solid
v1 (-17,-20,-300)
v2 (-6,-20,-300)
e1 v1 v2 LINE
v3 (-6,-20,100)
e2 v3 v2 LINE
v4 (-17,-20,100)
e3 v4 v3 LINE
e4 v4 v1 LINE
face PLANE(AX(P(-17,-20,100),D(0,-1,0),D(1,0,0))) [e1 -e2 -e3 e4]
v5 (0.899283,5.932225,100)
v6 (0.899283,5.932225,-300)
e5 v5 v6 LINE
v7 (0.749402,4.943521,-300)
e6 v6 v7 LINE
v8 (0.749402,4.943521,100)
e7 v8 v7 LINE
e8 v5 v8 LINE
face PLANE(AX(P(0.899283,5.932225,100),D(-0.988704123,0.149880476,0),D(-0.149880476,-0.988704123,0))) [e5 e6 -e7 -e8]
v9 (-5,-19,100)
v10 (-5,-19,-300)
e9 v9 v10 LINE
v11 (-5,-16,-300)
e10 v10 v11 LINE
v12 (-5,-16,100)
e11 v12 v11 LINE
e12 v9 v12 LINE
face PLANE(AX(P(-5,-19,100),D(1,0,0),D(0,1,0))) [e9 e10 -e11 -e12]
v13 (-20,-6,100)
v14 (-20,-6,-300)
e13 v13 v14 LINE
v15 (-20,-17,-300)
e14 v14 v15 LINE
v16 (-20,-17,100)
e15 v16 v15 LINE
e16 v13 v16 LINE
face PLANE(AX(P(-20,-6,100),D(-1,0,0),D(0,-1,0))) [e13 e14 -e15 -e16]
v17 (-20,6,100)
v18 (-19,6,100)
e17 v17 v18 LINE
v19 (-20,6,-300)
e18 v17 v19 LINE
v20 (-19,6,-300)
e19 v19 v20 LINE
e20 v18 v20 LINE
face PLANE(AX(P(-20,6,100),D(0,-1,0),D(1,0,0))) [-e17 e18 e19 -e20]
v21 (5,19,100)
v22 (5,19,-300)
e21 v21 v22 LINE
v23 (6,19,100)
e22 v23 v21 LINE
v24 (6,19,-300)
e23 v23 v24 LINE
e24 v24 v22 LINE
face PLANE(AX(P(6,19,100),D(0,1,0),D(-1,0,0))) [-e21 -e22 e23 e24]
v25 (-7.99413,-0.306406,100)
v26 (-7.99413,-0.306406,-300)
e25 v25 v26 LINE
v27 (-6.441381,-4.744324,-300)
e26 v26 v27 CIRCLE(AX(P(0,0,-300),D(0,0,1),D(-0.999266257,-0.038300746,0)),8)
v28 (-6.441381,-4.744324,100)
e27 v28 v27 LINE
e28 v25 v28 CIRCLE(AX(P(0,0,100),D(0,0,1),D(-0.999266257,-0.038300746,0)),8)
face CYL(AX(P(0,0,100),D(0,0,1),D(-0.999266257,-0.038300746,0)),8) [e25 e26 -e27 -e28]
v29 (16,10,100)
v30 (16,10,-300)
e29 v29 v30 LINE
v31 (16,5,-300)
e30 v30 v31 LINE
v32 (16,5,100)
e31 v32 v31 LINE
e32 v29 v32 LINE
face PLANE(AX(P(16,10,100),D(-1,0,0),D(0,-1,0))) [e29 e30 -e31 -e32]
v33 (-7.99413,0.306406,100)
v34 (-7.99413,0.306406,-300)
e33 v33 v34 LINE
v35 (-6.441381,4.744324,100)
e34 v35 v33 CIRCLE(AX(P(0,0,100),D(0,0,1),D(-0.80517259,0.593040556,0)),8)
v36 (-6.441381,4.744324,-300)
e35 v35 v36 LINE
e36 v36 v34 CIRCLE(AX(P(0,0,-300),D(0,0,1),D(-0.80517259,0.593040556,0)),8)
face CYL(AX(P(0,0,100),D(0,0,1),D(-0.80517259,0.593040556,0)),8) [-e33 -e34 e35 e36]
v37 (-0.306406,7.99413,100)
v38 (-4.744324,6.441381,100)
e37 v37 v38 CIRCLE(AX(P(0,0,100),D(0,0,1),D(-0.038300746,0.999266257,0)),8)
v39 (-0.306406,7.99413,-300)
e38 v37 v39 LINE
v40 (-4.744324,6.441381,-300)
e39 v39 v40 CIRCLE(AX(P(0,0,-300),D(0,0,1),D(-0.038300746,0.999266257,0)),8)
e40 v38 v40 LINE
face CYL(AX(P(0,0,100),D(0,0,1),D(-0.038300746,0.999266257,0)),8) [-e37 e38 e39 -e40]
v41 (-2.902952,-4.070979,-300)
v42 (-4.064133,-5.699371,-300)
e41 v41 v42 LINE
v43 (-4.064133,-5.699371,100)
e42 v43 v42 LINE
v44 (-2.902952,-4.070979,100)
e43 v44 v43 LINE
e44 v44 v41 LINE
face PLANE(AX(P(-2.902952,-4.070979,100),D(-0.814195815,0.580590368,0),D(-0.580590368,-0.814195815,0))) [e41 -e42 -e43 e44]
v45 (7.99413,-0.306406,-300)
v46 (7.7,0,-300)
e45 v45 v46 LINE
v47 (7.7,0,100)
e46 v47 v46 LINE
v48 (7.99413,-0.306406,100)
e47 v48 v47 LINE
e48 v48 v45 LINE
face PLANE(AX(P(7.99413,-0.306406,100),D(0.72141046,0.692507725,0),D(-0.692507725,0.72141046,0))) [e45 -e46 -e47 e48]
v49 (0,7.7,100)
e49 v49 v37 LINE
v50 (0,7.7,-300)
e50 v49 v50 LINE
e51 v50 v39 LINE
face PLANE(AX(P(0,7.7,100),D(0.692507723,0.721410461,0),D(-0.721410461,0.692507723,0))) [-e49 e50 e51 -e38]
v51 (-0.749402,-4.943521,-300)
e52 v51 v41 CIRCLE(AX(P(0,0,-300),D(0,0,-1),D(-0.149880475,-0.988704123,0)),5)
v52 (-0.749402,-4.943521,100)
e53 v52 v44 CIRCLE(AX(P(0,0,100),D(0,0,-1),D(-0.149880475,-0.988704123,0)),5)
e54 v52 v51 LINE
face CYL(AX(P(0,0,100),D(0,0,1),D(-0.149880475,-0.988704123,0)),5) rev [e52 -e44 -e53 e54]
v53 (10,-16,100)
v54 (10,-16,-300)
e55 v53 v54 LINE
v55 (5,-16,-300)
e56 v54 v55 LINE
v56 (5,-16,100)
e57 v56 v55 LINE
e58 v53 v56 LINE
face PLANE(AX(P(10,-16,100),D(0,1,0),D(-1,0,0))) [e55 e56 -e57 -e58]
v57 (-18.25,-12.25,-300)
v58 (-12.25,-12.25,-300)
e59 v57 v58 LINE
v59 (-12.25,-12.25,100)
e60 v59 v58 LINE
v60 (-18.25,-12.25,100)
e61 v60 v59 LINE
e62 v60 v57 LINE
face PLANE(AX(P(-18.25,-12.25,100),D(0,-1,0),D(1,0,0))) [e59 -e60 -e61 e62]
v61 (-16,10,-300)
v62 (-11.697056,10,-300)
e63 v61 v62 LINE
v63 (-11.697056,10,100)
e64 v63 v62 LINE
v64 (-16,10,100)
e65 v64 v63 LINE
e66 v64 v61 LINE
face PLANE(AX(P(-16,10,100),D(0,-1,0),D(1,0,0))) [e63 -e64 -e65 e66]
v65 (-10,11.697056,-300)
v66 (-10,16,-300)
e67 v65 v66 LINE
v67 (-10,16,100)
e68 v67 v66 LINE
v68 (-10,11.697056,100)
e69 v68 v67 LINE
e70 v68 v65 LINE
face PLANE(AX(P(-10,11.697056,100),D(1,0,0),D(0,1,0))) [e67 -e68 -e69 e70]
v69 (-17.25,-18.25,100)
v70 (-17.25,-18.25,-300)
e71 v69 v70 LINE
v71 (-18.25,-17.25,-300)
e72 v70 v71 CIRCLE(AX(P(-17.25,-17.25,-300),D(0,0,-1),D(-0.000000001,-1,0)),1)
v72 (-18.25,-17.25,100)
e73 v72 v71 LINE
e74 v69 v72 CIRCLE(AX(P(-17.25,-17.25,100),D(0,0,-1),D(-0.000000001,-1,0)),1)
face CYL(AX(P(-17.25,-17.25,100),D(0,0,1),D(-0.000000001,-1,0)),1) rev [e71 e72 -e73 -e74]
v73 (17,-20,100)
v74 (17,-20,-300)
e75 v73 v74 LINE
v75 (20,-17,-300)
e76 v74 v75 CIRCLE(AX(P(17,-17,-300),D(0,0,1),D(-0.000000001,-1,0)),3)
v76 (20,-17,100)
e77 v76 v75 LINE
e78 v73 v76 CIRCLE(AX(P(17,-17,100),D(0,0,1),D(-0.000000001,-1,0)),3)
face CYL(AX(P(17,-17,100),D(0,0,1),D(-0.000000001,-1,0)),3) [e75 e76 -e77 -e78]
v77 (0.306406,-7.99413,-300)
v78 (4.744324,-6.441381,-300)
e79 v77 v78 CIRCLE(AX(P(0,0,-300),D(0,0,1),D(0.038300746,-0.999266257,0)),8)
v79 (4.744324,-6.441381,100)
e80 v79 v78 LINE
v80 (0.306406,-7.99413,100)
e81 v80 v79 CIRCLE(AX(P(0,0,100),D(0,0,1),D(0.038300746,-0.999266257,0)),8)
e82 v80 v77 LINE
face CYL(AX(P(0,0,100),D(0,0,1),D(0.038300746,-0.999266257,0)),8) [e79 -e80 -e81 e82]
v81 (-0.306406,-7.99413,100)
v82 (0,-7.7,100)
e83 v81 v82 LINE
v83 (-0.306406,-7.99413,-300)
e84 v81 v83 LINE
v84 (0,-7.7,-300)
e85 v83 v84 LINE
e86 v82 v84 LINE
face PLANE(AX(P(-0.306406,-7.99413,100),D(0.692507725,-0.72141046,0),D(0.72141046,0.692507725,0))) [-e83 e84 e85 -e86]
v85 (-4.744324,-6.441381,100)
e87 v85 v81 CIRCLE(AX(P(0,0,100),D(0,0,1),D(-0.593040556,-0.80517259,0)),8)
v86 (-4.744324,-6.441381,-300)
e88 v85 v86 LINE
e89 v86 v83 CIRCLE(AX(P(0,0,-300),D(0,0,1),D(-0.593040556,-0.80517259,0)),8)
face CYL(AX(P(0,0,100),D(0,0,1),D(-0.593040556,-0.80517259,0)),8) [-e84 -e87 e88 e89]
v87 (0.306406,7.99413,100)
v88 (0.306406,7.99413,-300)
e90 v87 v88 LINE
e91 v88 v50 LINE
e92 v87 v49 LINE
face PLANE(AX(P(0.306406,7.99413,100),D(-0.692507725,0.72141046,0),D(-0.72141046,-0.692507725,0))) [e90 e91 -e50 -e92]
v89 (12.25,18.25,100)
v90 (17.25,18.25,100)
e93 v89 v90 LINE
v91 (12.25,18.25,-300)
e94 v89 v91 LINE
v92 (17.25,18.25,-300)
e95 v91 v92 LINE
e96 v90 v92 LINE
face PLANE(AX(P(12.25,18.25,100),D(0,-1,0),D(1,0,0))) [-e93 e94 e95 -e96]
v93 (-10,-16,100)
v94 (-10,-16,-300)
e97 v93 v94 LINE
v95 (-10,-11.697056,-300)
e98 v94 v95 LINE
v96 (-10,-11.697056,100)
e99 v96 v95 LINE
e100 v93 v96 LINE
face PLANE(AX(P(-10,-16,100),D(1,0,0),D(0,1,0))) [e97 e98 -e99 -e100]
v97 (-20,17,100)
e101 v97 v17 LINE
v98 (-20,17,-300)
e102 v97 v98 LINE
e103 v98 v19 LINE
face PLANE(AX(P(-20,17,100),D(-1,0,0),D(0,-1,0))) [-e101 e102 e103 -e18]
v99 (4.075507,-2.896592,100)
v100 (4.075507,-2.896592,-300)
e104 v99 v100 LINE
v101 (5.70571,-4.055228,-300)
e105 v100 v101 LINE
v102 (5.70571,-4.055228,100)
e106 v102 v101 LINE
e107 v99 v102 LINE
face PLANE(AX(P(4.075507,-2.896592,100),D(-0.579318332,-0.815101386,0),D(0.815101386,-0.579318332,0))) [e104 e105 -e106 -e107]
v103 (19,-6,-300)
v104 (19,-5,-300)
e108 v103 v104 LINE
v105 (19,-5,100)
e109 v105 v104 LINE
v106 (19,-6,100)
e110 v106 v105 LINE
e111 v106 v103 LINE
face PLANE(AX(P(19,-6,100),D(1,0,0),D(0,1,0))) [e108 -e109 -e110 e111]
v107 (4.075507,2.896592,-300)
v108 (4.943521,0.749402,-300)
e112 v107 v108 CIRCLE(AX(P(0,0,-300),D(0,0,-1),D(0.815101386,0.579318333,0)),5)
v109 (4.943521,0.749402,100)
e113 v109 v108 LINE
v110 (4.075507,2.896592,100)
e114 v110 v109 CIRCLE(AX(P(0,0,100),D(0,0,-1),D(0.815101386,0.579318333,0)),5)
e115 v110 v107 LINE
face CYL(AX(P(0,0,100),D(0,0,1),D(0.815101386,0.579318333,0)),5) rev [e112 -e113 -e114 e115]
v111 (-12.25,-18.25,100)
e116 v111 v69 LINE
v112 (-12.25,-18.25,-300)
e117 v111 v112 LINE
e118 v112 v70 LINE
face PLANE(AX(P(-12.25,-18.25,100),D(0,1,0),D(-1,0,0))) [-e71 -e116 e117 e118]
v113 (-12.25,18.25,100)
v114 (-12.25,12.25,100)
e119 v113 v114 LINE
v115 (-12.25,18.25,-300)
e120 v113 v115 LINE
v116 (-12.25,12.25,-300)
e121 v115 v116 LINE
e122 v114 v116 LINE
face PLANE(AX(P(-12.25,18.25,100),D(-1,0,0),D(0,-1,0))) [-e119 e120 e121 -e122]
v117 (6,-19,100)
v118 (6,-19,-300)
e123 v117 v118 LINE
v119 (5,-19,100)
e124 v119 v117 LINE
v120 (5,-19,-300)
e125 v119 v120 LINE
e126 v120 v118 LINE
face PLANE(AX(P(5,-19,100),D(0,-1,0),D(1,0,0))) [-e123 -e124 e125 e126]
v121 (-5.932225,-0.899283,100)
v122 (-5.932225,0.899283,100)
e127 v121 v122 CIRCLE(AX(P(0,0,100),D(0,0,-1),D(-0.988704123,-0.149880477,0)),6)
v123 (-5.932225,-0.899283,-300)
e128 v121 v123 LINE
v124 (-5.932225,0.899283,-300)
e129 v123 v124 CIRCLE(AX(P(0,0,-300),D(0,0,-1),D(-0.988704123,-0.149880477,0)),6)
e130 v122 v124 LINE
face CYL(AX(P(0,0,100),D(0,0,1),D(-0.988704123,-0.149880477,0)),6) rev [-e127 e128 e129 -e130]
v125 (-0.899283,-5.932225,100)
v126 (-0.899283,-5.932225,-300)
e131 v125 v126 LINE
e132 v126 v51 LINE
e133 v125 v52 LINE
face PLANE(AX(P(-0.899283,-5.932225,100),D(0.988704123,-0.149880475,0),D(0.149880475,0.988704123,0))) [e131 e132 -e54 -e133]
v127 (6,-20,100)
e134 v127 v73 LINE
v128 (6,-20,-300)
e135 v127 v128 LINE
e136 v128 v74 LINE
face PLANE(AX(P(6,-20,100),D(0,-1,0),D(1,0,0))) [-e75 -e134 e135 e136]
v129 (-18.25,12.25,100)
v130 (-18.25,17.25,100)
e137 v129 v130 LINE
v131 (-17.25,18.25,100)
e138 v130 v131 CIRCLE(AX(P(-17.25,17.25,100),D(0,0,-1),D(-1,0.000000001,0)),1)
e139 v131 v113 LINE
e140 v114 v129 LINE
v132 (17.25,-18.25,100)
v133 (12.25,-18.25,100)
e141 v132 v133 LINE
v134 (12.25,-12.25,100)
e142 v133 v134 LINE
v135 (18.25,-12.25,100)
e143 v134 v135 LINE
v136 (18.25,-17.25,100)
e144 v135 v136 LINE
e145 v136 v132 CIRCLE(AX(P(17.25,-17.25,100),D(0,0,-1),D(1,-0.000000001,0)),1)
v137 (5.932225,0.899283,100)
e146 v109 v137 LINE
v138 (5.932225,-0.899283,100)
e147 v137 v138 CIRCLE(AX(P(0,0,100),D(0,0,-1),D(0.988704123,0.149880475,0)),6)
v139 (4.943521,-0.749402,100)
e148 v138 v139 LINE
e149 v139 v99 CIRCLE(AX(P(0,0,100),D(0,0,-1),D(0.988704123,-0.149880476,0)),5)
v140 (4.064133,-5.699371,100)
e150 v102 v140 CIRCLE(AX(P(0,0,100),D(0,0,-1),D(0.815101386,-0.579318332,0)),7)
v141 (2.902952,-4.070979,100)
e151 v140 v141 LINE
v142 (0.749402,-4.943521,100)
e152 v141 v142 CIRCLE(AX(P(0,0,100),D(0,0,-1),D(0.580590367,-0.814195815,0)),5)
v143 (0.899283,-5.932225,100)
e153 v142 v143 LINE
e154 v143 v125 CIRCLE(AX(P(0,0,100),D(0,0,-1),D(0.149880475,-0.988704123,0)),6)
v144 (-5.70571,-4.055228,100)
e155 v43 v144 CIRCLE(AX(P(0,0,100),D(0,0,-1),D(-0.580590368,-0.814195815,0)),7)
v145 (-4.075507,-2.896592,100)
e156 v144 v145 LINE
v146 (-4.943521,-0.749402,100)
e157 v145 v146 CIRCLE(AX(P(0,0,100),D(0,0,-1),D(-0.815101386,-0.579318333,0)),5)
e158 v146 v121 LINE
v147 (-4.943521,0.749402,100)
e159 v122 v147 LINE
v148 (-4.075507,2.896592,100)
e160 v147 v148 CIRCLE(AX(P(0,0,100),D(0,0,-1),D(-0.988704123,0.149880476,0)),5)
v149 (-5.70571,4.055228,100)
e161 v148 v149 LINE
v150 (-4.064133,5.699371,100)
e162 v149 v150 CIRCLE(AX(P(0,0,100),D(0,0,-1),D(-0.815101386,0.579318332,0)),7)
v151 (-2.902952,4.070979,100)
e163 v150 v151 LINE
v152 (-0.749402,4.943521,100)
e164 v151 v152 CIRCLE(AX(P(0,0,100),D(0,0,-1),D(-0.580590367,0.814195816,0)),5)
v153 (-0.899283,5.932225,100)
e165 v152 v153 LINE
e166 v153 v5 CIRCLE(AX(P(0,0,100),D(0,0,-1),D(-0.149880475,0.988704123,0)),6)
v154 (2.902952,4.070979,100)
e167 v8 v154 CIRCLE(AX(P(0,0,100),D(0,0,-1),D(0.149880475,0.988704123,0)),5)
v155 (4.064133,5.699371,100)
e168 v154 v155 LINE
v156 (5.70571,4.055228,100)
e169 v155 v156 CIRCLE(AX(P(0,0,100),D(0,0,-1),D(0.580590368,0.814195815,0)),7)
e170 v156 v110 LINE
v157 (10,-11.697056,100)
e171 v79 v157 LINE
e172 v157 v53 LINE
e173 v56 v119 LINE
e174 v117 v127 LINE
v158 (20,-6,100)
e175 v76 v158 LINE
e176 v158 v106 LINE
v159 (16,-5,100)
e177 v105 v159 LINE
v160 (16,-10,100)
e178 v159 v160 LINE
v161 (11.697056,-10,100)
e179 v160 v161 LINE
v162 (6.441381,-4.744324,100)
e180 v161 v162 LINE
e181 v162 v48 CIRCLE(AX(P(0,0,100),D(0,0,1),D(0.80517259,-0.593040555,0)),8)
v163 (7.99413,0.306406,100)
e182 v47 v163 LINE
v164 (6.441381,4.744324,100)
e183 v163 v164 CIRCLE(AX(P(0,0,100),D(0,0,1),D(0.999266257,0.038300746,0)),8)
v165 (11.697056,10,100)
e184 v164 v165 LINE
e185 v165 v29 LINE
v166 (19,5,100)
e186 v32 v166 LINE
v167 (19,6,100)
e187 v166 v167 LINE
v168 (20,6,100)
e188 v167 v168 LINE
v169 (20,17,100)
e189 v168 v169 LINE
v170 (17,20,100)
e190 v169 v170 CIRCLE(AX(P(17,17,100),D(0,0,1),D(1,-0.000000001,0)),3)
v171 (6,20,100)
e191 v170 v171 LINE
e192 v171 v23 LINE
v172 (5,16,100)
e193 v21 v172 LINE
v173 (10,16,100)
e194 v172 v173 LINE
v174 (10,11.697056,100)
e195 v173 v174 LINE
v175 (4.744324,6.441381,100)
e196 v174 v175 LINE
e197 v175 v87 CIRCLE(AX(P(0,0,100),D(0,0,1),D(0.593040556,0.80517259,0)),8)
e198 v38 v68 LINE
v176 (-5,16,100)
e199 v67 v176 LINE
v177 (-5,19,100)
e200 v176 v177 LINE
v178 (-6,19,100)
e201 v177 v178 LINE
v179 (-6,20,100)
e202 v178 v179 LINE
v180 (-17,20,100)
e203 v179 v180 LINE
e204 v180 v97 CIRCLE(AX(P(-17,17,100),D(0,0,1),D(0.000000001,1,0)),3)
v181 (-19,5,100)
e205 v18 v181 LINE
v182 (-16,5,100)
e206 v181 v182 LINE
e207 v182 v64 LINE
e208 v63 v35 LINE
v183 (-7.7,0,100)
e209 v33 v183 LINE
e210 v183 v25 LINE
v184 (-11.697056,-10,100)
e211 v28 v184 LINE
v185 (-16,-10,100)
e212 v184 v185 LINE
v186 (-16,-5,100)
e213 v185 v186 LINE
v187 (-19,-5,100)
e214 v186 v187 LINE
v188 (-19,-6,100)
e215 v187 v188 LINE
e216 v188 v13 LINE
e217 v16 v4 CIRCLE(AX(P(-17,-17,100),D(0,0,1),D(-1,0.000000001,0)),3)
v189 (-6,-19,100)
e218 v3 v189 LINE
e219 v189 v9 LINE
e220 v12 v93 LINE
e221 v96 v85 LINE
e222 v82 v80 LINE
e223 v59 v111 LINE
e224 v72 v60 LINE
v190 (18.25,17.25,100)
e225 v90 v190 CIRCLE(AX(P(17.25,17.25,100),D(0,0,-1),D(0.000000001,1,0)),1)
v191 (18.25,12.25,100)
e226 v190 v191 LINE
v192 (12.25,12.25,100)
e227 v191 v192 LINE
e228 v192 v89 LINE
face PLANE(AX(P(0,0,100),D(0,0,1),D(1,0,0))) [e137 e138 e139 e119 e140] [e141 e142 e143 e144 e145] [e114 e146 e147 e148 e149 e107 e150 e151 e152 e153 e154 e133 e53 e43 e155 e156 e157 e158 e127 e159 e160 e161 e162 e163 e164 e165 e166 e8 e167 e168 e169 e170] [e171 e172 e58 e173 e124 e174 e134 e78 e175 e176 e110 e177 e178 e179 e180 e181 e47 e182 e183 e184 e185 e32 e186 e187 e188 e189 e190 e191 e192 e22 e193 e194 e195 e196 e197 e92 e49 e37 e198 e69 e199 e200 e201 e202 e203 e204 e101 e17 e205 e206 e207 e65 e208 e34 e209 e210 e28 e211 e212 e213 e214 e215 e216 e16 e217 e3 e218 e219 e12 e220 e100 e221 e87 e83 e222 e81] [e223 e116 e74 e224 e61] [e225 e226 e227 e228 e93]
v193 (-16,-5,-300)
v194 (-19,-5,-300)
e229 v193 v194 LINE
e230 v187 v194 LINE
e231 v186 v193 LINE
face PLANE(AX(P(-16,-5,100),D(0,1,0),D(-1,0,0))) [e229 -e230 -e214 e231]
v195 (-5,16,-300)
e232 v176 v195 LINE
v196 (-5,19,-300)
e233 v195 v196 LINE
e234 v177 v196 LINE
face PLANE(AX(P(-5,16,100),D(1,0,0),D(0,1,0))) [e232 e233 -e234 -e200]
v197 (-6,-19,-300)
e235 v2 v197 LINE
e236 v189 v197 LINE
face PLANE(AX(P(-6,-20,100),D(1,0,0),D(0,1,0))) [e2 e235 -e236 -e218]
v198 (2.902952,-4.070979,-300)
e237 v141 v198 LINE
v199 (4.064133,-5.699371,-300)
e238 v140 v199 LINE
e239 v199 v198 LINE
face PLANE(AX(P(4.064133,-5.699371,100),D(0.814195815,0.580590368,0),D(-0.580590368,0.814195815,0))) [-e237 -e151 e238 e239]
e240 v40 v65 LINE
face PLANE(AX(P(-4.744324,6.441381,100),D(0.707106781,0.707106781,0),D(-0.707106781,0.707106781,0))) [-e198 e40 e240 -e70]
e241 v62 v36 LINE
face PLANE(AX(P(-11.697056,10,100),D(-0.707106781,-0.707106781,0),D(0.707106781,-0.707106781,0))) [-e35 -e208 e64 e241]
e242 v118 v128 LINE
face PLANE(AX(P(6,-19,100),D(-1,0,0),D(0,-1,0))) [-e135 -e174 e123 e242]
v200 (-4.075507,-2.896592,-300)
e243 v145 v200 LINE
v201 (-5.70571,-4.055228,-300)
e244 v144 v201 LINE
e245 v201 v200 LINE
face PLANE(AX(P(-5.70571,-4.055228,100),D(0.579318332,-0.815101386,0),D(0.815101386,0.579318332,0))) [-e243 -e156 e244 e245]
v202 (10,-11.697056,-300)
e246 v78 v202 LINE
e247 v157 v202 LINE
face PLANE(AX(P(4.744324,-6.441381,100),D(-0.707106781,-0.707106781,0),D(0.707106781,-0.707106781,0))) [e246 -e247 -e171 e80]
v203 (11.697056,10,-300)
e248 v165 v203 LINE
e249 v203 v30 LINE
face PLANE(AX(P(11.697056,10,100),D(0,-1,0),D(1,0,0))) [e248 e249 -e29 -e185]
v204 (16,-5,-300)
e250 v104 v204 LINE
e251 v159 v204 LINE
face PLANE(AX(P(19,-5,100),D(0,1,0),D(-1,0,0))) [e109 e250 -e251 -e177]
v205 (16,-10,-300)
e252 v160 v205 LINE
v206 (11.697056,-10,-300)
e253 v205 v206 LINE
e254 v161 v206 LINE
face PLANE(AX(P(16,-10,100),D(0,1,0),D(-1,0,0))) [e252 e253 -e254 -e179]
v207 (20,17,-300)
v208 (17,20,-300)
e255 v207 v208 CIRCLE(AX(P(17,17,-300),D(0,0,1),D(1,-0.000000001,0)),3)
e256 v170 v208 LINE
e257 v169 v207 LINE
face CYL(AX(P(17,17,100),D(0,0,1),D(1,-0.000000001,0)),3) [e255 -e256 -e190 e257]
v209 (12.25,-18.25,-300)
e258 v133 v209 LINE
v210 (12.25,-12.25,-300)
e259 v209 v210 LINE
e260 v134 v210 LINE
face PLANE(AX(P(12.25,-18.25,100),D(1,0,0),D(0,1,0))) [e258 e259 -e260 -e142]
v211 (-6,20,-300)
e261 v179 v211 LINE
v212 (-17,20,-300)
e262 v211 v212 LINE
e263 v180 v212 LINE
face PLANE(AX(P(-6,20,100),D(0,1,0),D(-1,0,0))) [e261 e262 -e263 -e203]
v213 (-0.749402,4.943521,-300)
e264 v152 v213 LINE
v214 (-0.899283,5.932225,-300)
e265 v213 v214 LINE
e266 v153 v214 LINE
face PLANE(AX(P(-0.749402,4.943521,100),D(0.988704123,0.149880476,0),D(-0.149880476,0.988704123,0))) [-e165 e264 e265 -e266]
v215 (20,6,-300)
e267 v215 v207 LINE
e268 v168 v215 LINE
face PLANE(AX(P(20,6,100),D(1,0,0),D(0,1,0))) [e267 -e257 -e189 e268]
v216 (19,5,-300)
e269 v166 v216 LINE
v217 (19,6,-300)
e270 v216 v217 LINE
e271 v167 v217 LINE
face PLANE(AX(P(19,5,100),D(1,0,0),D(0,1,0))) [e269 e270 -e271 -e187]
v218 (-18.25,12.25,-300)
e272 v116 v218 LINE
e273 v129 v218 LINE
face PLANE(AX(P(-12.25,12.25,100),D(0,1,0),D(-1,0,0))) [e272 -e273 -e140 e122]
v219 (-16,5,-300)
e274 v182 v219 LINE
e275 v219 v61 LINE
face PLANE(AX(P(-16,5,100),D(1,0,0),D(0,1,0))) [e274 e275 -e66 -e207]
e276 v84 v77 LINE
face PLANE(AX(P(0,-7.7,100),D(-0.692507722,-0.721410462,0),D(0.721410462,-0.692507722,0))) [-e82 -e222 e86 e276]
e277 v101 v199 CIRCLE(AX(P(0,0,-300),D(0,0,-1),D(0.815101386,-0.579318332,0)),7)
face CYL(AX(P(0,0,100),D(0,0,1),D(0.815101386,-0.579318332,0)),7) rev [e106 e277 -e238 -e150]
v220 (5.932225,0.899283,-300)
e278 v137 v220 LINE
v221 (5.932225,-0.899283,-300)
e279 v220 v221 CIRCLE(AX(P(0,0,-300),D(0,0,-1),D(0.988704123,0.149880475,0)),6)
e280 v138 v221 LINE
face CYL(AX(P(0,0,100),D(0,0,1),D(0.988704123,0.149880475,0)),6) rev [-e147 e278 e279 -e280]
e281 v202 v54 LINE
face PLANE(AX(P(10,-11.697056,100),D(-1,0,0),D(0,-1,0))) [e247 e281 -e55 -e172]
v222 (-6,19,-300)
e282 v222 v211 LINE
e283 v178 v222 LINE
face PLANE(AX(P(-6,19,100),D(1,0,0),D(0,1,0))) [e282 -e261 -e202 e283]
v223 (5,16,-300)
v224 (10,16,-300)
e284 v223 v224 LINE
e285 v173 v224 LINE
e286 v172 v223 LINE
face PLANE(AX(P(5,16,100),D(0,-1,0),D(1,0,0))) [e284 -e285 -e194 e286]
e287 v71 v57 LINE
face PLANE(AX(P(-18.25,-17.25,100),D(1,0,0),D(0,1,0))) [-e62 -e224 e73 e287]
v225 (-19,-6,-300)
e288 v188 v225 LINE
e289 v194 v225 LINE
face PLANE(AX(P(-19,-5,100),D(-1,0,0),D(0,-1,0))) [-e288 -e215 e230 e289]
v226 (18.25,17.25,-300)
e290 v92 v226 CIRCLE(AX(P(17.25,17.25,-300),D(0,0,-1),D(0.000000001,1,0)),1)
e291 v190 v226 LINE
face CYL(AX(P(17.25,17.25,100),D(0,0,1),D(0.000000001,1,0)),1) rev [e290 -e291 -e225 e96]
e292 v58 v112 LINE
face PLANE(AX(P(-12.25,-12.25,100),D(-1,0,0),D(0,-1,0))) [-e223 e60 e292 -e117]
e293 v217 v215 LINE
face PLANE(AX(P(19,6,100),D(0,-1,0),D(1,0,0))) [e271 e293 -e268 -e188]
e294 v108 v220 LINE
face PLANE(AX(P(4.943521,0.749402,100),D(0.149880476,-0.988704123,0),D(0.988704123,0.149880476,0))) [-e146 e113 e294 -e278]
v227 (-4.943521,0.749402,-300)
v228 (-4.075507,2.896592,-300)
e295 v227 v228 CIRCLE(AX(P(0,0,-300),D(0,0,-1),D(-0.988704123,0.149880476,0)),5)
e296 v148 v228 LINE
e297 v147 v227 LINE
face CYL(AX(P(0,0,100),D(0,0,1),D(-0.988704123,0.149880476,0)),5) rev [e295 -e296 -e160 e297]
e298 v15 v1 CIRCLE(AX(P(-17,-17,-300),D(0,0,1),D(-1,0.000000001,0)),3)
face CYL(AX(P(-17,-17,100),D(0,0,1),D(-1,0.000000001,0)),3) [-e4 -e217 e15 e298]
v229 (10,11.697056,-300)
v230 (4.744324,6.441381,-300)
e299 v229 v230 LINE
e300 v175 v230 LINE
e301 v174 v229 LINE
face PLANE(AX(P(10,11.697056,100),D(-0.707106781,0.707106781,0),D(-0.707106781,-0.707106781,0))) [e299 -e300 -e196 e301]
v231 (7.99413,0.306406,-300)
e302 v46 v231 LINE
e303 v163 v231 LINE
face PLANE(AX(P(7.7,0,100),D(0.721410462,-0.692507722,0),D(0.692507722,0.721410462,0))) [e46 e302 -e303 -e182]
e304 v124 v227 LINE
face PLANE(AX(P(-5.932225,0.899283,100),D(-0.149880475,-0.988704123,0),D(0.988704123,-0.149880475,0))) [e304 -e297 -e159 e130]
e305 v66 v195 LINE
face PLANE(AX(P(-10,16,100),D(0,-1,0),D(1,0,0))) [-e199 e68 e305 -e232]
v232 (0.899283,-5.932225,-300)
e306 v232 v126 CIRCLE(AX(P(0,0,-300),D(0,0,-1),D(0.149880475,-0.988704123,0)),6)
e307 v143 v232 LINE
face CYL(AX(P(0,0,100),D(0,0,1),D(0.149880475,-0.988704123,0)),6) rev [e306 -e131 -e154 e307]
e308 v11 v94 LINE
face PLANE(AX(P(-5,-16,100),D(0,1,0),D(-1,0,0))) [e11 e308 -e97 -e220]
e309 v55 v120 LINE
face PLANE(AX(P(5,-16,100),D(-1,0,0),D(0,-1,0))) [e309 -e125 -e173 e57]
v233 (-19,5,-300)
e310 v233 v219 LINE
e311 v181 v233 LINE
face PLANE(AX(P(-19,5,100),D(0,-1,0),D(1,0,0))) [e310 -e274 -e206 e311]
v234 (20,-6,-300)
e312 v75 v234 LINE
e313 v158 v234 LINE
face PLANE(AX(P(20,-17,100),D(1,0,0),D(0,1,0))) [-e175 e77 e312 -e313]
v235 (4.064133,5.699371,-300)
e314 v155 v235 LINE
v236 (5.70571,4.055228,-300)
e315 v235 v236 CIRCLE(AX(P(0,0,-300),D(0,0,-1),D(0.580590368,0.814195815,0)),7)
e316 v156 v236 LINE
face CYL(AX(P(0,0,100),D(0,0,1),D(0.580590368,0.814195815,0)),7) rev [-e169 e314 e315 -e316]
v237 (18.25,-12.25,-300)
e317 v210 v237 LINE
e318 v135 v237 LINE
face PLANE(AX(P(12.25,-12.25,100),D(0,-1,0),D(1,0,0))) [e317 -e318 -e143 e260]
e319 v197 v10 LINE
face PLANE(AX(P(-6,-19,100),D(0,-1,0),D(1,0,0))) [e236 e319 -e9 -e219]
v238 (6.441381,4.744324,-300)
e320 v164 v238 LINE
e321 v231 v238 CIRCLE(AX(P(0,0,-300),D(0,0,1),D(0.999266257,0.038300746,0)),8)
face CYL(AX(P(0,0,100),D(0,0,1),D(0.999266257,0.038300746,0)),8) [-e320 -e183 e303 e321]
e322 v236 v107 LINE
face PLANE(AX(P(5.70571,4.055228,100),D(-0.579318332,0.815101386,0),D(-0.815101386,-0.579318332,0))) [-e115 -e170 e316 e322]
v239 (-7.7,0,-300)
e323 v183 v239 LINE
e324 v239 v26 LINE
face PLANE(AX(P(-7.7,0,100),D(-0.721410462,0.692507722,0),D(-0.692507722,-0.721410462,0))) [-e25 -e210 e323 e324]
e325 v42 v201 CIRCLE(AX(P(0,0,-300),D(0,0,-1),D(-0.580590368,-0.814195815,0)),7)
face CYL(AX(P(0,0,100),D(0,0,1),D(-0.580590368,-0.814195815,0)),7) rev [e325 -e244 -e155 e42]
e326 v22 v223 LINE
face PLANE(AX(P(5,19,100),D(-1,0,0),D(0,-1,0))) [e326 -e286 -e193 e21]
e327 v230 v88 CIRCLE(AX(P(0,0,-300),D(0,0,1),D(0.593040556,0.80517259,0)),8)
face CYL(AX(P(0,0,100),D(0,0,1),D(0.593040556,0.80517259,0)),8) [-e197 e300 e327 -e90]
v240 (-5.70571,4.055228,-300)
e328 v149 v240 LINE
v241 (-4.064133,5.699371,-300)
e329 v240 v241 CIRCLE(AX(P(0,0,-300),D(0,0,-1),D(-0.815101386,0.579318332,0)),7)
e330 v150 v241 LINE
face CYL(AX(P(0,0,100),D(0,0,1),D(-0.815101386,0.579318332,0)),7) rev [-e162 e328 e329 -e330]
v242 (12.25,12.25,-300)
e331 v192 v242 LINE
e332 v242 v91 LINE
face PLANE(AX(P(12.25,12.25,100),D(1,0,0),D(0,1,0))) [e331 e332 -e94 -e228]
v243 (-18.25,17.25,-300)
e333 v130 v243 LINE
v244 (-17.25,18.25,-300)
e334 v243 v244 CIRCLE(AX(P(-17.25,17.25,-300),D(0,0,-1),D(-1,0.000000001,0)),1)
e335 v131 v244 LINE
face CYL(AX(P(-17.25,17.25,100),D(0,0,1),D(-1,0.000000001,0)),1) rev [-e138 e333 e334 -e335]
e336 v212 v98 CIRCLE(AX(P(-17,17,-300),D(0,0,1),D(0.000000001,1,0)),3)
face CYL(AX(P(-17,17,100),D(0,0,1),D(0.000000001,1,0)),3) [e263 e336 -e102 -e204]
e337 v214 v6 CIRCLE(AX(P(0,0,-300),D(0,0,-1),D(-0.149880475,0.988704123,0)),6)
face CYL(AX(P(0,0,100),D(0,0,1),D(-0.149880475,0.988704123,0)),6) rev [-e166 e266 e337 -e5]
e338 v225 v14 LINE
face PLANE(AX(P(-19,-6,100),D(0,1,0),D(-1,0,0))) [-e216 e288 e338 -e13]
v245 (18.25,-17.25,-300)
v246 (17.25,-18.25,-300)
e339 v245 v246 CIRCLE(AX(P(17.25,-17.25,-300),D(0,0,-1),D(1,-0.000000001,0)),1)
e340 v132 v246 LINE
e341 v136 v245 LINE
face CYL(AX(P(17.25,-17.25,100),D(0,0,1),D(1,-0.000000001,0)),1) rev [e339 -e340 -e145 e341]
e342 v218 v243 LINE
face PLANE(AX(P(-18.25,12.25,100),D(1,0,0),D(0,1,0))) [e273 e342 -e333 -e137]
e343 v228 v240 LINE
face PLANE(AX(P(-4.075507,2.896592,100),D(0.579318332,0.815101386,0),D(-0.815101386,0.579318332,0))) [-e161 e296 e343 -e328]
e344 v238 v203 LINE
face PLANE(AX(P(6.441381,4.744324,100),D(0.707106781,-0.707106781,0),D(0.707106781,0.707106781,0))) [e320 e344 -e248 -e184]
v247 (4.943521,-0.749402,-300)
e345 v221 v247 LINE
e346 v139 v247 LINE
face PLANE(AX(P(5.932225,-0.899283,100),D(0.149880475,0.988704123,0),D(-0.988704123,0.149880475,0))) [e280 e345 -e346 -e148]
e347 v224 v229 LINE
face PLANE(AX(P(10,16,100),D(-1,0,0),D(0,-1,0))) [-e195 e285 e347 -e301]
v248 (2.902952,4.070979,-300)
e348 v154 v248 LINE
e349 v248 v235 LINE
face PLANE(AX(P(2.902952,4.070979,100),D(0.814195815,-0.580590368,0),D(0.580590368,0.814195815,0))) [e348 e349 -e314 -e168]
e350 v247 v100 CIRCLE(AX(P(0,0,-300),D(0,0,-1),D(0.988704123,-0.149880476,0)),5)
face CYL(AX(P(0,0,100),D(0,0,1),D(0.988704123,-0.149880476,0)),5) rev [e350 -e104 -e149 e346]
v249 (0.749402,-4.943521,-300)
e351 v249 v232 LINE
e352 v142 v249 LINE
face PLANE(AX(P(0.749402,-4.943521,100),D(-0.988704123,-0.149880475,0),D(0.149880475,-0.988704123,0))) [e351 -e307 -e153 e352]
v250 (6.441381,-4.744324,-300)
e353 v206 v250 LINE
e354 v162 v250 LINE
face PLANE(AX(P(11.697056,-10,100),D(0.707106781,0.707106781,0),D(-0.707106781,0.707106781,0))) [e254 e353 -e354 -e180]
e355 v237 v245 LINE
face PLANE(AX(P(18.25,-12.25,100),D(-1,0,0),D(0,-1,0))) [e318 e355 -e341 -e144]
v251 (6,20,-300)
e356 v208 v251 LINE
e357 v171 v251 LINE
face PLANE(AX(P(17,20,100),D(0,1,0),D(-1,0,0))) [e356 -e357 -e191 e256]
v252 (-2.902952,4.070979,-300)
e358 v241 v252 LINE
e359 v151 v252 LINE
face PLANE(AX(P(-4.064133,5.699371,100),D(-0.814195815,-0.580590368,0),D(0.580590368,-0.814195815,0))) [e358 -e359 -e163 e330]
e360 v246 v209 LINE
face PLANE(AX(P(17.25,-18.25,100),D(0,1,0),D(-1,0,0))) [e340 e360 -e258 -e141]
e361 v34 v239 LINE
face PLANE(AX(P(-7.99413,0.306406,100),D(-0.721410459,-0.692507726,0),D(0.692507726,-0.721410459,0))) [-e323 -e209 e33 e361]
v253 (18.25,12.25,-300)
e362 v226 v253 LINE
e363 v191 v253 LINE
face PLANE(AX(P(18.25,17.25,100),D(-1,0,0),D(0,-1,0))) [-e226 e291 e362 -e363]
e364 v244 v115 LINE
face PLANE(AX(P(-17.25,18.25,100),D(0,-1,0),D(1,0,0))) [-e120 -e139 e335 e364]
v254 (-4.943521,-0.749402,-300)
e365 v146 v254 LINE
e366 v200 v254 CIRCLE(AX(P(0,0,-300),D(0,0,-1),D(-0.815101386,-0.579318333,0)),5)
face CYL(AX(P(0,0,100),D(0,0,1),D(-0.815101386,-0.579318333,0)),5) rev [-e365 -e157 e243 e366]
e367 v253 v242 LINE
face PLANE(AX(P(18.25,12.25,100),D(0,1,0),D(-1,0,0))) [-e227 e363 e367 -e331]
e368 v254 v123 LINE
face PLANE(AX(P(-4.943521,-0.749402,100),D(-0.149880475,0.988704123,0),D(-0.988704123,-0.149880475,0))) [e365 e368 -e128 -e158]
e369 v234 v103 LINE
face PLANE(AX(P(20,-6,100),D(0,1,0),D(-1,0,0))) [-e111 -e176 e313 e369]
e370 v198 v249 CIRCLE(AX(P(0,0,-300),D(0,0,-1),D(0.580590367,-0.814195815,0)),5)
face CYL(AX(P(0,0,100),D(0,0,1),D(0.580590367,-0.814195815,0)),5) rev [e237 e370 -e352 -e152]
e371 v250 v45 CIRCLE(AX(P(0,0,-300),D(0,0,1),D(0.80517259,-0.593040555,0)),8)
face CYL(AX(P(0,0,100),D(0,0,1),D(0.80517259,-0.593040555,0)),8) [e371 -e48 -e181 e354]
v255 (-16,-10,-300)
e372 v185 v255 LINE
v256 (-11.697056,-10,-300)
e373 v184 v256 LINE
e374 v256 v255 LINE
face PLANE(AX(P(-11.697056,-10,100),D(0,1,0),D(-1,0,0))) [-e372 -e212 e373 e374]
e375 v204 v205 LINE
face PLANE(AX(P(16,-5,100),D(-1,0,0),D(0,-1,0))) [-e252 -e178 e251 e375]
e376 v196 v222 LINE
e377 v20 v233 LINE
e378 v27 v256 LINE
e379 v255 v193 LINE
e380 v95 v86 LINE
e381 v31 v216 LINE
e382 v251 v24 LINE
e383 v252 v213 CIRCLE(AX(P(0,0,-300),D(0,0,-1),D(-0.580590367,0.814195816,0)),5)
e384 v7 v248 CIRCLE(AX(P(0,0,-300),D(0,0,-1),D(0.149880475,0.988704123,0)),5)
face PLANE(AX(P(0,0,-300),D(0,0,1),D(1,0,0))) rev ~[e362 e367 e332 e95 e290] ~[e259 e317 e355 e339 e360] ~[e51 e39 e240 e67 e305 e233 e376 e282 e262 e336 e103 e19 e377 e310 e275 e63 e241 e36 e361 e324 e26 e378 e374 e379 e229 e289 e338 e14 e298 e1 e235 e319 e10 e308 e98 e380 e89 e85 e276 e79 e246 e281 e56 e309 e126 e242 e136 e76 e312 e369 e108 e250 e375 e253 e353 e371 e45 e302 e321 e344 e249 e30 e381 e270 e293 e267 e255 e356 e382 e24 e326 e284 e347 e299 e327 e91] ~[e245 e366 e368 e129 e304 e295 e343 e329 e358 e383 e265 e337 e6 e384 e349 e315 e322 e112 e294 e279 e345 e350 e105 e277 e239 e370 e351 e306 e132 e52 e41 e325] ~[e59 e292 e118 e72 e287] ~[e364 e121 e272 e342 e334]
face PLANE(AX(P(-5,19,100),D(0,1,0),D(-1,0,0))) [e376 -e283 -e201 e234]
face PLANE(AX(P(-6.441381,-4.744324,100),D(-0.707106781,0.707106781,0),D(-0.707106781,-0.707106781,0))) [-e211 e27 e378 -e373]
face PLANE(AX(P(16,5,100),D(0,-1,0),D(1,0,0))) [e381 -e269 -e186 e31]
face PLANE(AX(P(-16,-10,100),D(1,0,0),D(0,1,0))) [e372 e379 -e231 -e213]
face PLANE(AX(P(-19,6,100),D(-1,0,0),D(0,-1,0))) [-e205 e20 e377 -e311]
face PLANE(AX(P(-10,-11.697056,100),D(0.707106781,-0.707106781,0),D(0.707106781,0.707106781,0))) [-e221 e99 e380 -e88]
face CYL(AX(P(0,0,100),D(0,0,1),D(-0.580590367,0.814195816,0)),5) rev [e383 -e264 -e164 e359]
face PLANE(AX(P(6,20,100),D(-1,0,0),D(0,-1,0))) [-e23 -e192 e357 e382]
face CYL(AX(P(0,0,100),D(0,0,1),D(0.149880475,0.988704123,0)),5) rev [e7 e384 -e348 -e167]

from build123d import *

# Parameters (mm, degrees)
BOSS_EXTRU_1_DEPTH = 400


with BuildPart() as part:
    # Esquisse1 → Boss.-Extru.1 (new body)
    with BuildSketch(Plane.XY.offset(100)):
        with BuildLine():
            Line((6, -19), (6, -20))
            Line((6, -20), (17, -20))
            ThreePointArc((17, -20), (19.121320344, -19.121320344), (20, -17))
            Line((20, -17), (20, -6))
            Line((20, -6), (19, -6))
            Line((19, -6), (19, -5))
            Line((19, -5), (16, -5))
            Line((16, -5), (16, -10))
            Line((16, -10), (11.697056276, -10))
            Line((11.697056276, -10), (6.44138072, -4.744324444))
            ThreePointArc((6.44138072, -4.744324444), (7.551143817, -2.642011933), (7.994130058, -0.306405969))
            Line((7.994130058, -0.306405969), (7.7, 0))
            Line((7.7, 0), (7.994130058, 0.306405971))
            ThreePointArc((7.994130058, 0.306405971), (7.551143817, 2.642011934), (6.441380719, 4.744324444))
            Line((6.441380719, 4.744324444), (11.697056275, 10))
            Line((11.697056275, 10), (16, 10))
            Line((16, 10), (16, 5))
            Line((16, 5), (19, 5))
            Line((19, 5), (19, 6))
            Line((19, 6), (20, 6))
            Line((20, 6), (20, 17))
            ThreePointArc((20, 17), (19.121320344, 19.121320344), (17, 20))
            Line((17, 20), (6, 20))
            Line((6, 20), (6, 19))
            Line((6, 19), (5, 19))
            Line((5, 19), (5, 15.999999999))
            Line((5, 15.999999999), (10.000000001, 15.999999999))
            Line((10.000000001, 15.999999999), (10.000000001, 11.697056275))
            Line((10.000000001, 11.697056275), (4.744324444, 6.441380719))
            ThreePointArc((4.744324444, 6.441380719), (2.642011933, 7.551143817), (0.306405969, 7.994130058))
            Line((0.306405969, 7.994130058), (0, 7.7))
            Line((0, 7.7), (-0.30640597, 7.994130058))
            ThreePointArc((-0.30640597, 7.994130058), (-2.642011933, 7.551143817), (-4.744324444, 6.441380719))
            Line((-4.744324444, 6.441380719), (-9.999999999, 11.697056274))
            Line((-9.999999999, 11.697056274), (-9.999999999, 15.999999999))
            Line((-9.999999999, 15.999999999), (-5, 15.999999999))
            Line((-5, 15.999999999), (-5, 19))
            Line((-5, 19), (-6, 19))
            Line((-6, 19), (-6, 20))
            Line((-6, 20), (-17, 20))
            ThreePointArc((-17, 20), (-19.121320344, 19.121320344), (-20, 17))
            Line((-20, 17), (-20, 6))
            Line((-20, 6), (-19, 6))
            Line((-19, 6), (-19, 5))
            Line((-19, 5), (-16, 5))
            Line((-16, 5), (-16, 10))
            Line((-16, 10), (-11.697056274, 10))
            Line((-11.697056274, 10), (-6.441380718, 4.744324445))
            ThreePointArc((-6.441380718, 4.744324445), (-7.551143817, 2.642011933), (-7.994130058, 0.306405969))
            Line((-7.994130058, 0.306405969), (-7.699999999, 0))
            Line((-7.699999999, 0), (-7.994130057, -0.306405971))
            ThreePointArc((-7.994130057, -0.306405971), (-7.551143816, -2.642011934), (-6.441380719, -4.744324444))
            Line((-6.441380719, -4.744324444), (-11.697056275, -10))
            Line((-11.697056275, -10), (-16, -10))
            Line((-16, -10), (-16, -5))
            Line((-16, -5), (-19, -5))
            Line((-19, -5), (-19, -6))
            Line((-19, -6), (-20, -6))
            Line((-20, -6), (-20, -17))
            ThreePointArc((-20, -17), (-19.121320344, -19.121320344), (-17, -20))
            Line((-17, -20), (-6, -20))
            Line((-6, -20), (-6, -19))
            Line((-6, -19), (-5, -19))
            Line((-5, -19), (-5, -16.000000001))
            Line((-5, -16.000000001), (-9.999999999, -16.000000001))
            Line((-9.999999999, -16.000000001), (-9.999999999, -11.697056274))
            Line((-9.999999999, -11.697056274), (-4.744324444, -6.441380719))
            ThreePointArc((-4.744324444, -6.441380719), (-2.642011933, -7.551143817), (-0.306405969, -7.994130058))
            Line((-0.306405969, -7.994130058), (0, -7.7))
            Line((0, -7.7), (0.306405971, -7.994130058))
            ThreePointArc((0.306405971, -7.994130058), (2.642011934, -7.551143817), (4.744324445, -6.441380719))
            Line((4.744324445, -6.441380719), (10.000000001, -11.697056274))
            Line((10.000000001, -11.697056274), (10.000000001, -16.000000001))
            Line((10.000000001, -16.000000001), (5, -16.000000001))
            Line((5, -16.000000001), (5, -19))
            Line((5, -19), (6, -19))
        make_face()
        with BuildLine():
            Line((18.25, 12.25), (12.25, 12.25))
            Line((12.25, 12.25), (12.25, 18.25))
            Line((12.25, 18.25), (17.25, 18.25))
            ThreePointArc((17.25, 18.25), (17.957106781, 17.957106781), (18.25, 17.25))
            Line((18.25, 17.25), (18.25, 12.25))
        make_face(mode=Mode.SUBTRACT)
        with BuildLine():
            Line((-18.25, -12.25), (-12.25, -12.25))
            Line((-12.25, -12.25), (-12.25, -18.25))
            Line((-12.25, -18.25), (-17.25, -18.25))
            ThreePointArc((-17.25, -18.25), (-17.957106781, -17.957106781), (-18.25, -17.25))
            Line((-18.25, -17.25), (-18.25, -12.25))
        make_face(mode=Mode.SUBTRACT)
        with BuildLine():
            Line((-12.25, 18.25), (-12.25, 12.25))
            Line((-12.25, 12.25), (-18.25, 12.25))
            Line((-18.25, 12.25), (-18.25, 17.25))
            ThreePointArc((-18.25, 17.25), (-17.957106781, 17.957106781), (-17.25, 18.25))
            Line((-17.25, 18.25), (-12.25, 18.25))
        make_face(mode=Mode.SUBTRACT)
        with BuildLine():
            Line((12.25, -18.25), (12.25, -12.25))
            Line((12.25, -12.25), (18.25, -12.25))
            Line((18.25, -12.25), (18.25, -17.25))
            ThreePointArc((18.25, -17.25), (17.957106781, -17.957106781), (17.25, -18.25))
            Line((17.25, -18.25), (12.25, -18.25))
        make_face(mode=Mode.SUBTRACT)
        with BuildLine():
            Line((-5.705709703, -4.055228326), (-4.075506937, -2.896591666))
            ThreePointArc((-4.075506937, -2.896591666), (-4.635549589, -1.873947727), (-4.943520622, -0.749402378))
            Line((-4.943520622, -0.749402378), (-5.932224738, -0.899282852))
            ThreePointArc((-5.932224738, -0.899282852), (-6, 0), (-5.932224738, 0.899282853))
            Line((-5.932224738, 0.899282853), (-4.943520622, 0.749402379))
            ThreePointArc((-4.943520622, 0.749402379), (-4.635549588, 1.873947727), (-4.075506937, 2.896591666))
            Line((-4.075506937, 2.896591666), (-5.705709704, 4.055228326))
            ThreePointArc((-5.705709704, 4.055228326), (-4.953610357, 4.945881563), (-4.064132573, 5.699370705))
            Line((-4.064132573, 5.699370705), (-2.902951842, 4.070979081))
            ThreePointArc((-2.902951842, 4.070979081), (-1.877566249, 4.634085136), (-0.749402377, 4.943520623))
            Line((-0.749402377, 4.943520623), (-0.899282852, 5.932224739))
            ThreePointArc((-0.899282852, 5.932224739), (0, 6), (0.899282852, 5.932224739))
            Line((0.899282852, 5.932224739), (0.749402377, 4.943520623))
            ThreePointArc((0.749402377, 4.943520623), (1.87756625, 4.634085136), (2.902951843, 4.07097908))
            Line((2.902951843, 4.07097908), (4.064132575, 5.699370704))
            ThreePointArc((4.064132575, 5.699370704), (4.953610358, 4.945881562), (5.705709704, 4.055228326))
            Line((5.705709704, 4.055228326), (4.075506937, 2.896591666))
            ThreePointArc((4.075506937, 2.896591666), (4.635549589, 1.873947727), (4.943520623, 0.749402378))
            Line((4.943520623, 0.749402378), (5.932224739, 0.899282853))
            ThreePointArc((5.932224739, 0.899282853), (6, 0), (5.932224739, -0.899282853))
            Line((5.932224739, -0.899282853), (4.943520623, -0.749402379))
            ThreePointArc((4.943520623, -0.749402379), (4.635549589, -1.873947727), (4.075506938, -2.896591666))
            Line((4.075506938, -2.896591666), (5.705709704, -4.055228326))
            ThreePointArc((5.705709704, -4.055228326), (4.953610357, -4.945881563), (4.064132573, -5.699370705))
            Line((4.064132573, -5.699370705), (2.902951842, -4.070979081))
            ThreePointArc((2.902951842, -4.070979081), (1.87756625, -4.634085136), (0.749402378, -4.943520623))
            Line((0.749402378, -4.943520623), (0.899282852, -5.932224739))
            ThreePointArc((0.899282852, -5.932224739), (1e-09, -6), (-0.899282851, -5.932224739))
            Line((-0.899282851, -5.932224739), (-0.749402377, -4.943520623))
            ThreePointArc((-0.749402377, -4.943520623), (-1.87756625, -4.634085136), (-2.902951843, -4.07097908))
            Line((-2.902951843, -4.07097908), (-4.064132574, -5.699370704))
            ThreePointArc((-4.064132574, -5.699370704), (-4.953610357, -4.945881562), (-5.705709703, -4.055228326))
        make_face(mode=Mode.SUBTRACT)
    extrude(amount=-BOSS_EXTRU_1_DEPTH)


solid = part.part
